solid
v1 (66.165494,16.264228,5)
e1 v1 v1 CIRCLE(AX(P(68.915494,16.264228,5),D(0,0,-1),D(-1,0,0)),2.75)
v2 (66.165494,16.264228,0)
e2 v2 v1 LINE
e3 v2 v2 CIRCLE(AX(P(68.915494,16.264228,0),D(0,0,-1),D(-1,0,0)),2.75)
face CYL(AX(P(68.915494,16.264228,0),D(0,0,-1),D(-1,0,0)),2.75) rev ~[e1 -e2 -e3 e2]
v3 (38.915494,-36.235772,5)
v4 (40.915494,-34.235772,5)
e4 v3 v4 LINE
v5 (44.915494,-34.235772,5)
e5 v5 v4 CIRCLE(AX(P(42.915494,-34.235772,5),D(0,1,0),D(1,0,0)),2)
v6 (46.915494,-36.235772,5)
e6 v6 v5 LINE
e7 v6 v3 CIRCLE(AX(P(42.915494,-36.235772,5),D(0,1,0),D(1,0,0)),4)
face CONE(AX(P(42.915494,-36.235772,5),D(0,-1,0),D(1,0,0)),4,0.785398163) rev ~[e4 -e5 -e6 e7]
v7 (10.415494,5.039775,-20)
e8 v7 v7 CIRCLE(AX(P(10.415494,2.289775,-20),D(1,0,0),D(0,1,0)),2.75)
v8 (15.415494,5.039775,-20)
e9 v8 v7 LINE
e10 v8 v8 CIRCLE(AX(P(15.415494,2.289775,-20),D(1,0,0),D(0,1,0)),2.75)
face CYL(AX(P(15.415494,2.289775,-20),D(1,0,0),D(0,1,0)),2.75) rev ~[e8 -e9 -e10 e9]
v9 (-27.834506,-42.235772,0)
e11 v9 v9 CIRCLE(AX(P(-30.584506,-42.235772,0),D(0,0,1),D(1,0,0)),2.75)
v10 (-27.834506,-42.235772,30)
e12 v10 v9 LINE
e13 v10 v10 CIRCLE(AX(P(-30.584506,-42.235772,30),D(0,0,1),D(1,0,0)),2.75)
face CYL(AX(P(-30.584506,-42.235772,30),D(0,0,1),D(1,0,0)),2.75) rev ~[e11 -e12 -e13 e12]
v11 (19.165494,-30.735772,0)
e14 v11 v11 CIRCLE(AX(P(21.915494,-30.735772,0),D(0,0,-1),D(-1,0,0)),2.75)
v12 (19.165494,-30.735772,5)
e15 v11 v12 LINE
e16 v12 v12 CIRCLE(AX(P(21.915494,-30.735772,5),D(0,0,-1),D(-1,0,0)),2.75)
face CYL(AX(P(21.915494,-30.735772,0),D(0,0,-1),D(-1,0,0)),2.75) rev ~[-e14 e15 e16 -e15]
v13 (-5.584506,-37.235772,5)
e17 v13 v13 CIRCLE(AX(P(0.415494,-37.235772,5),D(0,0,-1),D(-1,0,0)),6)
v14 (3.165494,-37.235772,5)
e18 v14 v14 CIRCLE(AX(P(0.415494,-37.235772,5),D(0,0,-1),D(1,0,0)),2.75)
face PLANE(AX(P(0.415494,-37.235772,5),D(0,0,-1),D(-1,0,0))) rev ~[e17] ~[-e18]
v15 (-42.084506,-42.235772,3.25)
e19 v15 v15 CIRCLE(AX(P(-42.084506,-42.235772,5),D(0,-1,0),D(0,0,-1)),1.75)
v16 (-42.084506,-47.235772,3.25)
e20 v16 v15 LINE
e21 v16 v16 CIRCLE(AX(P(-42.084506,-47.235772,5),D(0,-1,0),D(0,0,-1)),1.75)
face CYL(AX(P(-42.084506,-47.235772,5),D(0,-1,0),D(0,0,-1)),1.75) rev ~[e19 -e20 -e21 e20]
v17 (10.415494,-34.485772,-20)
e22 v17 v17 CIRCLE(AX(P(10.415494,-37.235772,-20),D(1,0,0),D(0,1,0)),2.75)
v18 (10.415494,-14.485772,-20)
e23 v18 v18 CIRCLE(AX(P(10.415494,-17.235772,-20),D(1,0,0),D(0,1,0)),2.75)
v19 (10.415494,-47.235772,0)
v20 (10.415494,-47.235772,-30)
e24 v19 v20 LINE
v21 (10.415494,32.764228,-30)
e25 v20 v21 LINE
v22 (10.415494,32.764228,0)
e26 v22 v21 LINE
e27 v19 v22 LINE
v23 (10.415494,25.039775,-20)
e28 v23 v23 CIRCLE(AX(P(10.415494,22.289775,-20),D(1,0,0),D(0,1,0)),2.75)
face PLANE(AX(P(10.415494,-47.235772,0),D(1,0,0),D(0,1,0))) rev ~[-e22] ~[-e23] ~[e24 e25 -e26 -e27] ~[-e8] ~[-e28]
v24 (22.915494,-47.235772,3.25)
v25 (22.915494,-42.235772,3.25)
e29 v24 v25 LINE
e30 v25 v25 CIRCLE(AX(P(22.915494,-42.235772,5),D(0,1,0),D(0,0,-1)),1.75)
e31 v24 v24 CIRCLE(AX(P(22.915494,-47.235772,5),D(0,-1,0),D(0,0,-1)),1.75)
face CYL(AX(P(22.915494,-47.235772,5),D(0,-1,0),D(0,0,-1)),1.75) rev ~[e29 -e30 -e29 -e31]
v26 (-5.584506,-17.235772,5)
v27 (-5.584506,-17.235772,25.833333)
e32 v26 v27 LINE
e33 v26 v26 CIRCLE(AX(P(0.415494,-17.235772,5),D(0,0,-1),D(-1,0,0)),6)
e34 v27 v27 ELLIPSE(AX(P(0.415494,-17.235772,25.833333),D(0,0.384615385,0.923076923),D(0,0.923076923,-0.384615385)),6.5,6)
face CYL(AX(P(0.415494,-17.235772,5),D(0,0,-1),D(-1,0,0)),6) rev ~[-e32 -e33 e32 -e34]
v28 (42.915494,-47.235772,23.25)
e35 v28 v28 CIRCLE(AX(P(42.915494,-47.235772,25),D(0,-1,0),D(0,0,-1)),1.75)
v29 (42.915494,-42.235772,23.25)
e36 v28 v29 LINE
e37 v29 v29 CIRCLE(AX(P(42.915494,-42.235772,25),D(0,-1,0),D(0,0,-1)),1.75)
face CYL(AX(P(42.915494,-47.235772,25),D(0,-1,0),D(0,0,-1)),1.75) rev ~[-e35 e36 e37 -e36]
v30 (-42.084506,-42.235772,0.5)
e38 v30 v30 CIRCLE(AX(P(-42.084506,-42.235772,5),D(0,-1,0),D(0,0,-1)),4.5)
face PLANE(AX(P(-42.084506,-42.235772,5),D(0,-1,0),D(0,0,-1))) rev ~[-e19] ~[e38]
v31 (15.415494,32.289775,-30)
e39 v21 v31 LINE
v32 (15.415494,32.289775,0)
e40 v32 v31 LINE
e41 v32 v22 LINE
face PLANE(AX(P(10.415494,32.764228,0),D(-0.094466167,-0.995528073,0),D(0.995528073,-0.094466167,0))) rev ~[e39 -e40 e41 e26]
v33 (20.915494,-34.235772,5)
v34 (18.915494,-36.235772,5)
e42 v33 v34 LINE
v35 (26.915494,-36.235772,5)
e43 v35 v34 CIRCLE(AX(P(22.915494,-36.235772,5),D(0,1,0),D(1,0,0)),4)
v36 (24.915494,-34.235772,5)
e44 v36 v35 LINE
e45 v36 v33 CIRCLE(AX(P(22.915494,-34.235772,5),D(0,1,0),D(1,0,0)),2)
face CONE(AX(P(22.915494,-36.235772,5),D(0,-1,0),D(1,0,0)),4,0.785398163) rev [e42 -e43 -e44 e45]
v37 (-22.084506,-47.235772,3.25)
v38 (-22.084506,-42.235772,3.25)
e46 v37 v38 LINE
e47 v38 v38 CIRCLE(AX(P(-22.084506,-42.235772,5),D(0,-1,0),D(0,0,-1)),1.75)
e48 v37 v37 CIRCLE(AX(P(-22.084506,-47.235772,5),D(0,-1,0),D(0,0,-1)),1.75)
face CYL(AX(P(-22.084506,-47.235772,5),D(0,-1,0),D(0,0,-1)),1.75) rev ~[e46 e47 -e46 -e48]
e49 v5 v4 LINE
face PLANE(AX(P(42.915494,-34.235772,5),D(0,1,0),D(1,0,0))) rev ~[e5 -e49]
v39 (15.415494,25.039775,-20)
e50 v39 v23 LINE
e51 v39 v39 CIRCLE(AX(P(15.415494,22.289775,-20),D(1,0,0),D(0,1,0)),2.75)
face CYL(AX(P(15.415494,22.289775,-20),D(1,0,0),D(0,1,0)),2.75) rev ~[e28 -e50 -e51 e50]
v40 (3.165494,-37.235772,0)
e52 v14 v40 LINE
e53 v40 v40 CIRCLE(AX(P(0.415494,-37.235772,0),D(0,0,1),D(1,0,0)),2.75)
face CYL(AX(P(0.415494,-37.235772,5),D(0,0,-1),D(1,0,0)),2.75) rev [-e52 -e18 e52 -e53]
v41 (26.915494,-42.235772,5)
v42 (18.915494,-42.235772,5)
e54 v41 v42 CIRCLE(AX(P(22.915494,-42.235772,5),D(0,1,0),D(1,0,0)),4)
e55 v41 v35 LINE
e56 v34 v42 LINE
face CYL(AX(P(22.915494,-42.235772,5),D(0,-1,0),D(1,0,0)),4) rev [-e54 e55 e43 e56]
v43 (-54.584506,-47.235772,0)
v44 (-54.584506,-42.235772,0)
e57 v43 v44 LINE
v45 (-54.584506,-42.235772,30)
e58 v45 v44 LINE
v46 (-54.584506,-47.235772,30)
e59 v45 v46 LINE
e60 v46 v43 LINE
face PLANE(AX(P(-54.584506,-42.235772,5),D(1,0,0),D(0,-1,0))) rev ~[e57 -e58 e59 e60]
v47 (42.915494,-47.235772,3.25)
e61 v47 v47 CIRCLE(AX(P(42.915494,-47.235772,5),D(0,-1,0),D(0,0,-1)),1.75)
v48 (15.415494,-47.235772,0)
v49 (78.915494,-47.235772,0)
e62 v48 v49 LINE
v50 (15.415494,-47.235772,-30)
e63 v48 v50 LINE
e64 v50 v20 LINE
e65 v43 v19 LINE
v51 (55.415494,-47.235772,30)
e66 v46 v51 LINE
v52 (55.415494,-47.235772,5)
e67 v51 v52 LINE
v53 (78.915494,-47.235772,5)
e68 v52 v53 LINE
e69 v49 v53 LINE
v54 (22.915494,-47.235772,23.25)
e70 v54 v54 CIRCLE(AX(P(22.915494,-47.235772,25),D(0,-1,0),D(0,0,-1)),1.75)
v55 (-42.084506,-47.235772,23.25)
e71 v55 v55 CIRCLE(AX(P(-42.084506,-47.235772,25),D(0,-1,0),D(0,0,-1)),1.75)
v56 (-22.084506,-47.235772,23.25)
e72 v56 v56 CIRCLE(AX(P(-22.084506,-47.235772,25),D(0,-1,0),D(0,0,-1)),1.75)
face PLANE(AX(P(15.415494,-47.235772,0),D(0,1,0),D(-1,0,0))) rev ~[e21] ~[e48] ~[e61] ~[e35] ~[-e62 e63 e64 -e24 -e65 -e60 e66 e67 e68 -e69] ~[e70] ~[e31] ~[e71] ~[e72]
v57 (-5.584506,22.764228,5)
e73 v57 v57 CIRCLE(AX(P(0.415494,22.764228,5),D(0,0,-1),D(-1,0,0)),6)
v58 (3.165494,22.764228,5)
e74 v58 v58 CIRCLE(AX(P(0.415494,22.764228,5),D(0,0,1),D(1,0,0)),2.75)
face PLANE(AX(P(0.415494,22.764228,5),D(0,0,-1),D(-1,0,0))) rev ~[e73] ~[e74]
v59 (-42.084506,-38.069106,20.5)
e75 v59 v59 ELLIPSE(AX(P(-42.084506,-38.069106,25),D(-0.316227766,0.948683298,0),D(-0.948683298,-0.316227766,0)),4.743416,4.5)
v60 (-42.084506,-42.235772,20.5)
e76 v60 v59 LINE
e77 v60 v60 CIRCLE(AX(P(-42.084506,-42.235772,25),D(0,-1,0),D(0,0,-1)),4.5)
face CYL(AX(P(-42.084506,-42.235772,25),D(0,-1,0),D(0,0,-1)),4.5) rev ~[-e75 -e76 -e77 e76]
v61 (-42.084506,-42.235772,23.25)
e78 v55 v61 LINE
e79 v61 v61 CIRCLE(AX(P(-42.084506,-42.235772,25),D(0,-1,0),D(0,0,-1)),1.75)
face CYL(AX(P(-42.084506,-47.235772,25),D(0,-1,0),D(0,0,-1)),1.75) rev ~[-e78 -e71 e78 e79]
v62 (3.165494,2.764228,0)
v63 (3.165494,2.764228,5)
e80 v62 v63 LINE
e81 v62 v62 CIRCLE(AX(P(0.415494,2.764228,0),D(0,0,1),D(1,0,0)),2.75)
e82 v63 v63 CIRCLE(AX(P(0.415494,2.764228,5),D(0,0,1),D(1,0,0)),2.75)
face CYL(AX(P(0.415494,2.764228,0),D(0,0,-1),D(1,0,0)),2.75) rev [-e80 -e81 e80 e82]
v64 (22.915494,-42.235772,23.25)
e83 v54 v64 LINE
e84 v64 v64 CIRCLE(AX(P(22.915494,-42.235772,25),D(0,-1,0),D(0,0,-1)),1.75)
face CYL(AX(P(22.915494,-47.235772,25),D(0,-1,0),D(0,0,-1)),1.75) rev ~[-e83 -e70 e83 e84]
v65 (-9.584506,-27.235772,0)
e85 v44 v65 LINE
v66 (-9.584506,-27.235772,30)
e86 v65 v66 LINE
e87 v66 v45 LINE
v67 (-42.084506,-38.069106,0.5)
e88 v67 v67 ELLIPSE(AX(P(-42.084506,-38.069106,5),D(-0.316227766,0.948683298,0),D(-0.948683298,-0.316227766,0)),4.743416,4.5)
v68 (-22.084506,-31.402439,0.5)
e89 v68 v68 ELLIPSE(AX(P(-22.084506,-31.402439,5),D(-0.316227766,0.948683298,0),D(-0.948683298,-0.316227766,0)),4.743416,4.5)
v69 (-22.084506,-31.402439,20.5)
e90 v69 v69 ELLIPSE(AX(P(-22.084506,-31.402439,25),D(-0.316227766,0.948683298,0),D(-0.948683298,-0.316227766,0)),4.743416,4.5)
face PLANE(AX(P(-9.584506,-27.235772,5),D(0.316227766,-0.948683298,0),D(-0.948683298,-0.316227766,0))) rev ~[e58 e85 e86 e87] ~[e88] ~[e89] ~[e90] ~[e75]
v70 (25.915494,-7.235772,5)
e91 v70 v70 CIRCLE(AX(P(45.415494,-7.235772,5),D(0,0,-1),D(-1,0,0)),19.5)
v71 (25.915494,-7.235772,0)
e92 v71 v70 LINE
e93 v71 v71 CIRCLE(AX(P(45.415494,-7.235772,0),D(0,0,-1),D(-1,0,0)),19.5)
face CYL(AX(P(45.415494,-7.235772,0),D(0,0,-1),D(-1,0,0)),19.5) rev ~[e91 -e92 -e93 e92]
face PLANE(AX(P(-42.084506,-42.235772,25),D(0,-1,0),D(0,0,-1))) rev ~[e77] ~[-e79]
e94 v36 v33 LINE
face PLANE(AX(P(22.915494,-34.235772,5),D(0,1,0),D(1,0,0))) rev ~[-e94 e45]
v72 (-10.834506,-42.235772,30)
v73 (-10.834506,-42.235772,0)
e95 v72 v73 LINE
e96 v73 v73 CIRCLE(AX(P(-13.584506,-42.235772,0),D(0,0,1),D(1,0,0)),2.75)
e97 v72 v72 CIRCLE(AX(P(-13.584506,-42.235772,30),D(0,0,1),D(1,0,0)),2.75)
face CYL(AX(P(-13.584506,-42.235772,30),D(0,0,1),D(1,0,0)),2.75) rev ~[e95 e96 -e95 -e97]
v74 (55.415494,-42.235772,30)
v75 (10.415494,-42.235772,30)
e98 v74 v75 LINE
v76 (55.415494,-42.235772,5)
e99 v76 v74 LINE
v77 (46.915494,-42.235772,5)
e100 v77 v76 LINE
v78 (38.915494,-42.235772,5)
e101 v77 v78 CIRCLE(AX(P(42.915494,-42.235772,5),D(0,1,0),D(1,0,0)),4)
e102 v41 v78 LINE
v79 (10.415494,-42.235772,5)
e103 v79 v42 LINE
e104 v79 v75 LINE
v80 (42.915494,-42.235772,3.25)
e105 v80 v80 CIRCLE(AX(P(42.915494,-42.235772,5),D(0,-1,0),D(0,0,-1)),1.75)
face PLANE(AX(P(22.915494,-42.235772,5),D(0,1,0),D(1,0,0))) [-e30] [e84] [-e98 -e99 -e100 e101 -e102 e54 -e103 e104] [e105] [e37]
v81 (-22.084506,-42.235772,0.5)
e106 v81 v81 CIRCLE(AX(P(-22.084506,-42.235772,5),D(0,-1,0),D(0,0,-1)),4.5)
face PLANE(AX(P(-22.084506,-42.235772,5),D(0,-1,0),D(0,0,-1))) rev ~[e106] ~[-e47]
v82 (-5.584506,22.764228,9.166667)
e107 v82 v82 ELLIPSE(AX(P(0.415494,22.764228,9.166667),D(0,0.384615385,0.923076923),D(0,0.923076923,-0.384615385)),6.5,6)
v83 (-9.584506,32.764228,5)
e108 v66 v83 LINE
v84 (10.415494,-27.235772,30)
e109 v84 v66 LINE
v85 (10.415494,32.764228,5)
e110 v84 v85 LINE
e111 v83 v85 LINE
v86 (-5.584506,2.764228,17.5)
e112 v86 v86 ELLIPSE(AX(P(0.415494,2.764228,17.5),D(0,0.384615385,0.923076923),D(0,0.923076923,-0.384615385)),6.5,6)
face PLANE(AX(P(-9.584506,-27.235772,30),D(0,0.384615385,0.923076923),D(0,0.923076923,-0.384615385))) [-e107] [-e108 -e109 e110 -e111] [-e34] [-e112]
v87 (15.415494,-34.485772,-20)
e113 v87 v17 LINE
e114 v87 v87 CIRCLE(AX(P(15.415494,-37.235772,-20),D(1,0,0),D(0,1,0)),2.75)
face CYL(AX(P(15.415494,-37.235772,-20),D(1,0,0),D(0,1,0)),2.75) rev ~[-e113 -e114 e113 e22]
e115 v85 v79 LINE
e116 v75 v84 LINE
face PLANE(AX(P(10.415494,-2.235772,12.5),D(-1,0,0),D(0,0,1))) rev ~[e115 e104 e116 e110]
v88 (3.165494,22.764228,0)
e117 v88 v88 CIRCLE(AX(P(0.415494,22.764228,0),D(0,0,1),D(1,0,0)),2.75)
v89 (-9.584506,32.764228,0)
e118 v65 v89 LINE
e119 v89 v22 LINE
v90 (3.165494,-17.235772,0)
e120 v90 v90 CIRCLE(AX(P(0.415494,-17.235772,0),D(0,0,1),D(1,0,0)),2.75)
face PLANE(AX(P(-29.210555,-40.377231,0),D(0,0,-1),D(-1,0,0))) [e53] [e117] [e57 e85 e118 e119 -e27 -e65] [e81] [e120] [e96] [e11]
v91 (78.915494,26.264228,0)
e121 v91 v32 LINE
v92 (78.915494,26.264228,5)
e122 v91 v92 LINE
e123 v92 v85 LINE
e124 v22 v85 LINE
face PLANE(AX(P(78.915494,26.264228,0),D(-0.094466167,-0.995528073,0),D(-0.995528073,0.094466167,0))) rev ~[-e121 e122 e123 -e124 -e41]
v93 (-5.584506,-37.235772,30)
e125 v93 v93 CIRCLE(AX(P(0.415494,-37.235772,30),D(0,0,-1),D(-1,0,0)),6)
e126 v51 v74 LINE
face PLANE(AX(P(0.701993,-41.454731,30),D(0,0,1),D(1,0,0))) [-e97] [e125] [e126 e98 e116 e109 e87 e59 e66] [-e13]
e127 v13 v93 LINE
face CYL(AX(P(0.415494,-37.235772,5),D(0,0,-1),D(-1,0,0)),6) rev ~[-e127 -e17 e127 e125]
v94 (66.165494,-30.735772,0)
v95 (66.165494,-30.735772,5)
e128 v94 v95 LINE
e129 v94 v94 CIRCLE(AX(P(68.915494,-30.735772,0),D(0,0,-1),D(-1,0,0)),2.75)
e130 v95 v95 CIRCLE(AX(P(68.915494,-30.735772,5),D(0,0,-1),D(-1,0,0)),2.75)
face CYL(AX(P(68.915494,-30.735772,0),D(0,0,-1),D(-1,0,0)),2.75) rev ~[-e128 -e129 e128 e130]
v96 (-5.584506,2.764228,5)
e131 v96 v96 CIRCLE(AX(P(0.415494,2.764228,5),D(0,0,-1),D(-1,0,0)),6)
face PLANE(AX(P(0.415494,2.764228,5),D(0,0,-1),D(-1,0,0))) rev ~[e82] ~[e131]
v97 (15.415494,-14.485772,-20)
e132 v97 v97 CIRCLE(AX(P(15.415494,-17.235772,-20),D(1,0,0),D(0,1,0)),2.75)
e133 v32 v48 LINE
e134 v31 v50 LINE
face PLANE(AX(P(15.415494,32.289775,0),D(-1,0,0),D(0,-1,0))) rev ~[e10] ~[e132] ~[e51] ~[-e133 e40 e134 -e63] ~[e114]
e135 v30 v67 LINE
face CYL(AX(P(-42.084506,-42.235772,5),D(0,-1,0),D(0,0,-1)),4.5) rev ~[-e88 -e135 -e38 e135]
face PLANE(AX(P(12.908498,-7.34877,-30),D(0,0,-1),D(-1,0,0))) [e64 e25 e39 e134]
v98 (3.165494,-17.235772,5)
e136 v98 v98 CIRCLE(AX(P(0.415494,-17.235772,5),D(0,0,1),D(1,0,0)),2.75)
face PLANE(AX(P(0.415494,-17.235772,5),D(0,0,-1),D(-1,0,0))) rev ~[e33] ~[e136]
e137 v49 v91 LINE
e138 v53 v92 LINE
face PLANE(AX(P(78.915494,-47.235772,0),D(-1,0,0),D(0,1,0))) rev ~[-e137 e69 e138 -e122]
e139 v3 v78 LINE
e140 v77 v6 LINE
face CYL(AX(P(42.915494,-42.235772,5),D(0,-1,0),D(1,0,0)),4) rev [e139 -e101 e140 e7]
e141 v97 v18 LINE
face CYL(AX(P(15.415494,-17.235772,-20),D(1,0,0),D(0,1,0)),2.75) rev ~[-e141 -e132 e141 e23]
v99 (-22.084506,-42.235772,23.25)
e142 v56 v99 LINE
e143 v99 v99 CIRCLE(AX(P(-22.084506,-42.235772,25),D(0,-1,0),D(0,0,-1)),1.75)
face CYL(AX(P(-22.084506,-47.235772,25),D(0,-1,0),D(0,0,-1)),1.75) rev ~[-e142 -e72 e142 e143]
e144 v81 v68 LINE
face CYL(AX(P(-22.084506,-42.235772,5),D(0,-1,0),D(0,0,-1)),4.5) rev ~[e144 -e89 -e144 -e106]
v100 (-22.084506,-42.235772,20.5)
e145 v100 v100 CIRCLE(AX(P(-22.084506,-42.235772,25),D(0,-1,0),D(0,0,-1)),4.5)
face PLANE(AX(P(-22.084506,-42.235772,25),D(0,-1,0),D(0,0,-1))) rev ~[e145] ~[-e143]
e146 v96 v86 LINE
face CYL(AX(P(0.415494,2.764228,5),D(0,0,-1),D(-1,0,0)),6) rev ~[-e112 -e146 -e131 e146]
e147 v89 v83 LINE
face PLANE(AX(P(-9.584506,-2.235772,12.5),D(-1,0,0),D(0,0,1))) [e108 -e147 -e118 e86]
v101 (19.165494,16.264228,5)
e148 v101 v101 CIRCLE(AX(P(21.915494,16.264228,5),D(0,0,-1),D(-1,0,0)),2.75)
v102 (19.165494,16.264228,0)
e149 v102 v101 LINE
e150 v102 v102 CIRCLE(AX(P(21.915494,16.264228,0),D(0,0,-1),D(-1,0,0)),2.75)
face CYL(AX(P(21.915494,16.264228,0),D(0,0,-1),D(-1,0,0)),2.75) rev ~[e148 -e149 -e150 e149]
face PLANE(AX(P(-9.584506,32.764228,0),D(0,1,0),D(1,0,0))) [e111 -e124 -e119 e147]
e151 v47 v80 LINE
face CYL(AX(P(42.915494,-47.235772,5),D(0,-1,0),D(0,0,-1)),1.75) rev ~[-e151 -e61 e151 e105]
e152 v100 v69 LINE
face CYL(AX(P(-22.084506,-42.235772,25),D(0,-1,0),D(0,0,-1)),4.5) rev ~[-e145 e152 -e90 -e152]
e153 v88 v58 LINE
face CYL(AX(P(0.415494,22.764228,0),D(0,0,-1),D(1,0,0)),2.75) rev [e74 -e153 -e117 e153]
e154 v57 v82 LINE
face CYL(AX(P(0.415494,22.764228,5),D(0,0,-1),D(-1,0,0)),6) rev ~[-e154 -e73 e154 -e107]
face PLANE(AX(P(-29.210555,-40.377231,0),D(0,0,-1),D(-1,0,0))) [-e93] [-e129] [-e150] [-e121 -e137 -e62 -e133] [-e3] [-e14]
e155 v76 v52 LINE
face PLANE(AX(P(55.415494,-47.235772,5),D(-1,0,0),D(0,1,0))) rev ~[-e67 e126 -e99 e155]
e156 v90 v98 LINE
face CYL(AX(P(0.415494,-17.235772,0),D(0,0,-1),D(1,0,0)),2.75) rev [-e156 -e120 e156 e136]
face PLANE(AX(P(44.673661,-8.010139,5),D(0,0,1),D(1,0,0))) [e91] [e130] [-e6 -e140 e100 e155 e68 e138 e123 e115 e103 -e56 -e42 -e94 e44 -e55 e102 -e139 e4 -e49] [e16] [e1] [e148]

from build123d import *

# Parameters (mm, degrees)
ESQUISSE1_W             = 20
ESQUISSE1_H             = 80
ESQUISSE1_R             = 2.75
BOSS_EXTRU_1_DEPTH      = 5
ESQUISSE3_W             = 45
ESQUISSE3_H             = 5
BOSS_EXTRU_2_DEPTH      = 5
ESQUISSE4_R             = 2.75
BOSS_EXTRU_3_DEPTH      = 25
BOSS_EXTRU_4_DEPTH      = 20
ENL_V_MAT_EXTRU_1_REACH = 78.988
ESQUISSE6_R             = 6
ENL_V_MAT_EXTRU_2_REACH = 103.838
ESQUISSE7_R             = 1.75
ENL_V_MAT_EXTRU_3_REACH = 99.959
ESQUISSE9_R             = 4.5
ESQUISSE11_R            = 19.5
ESQUISSE11_R_2          = 2.75
BOSS_EXTRU_5_DEPTH      = 5
ESQUISSE12_R            = 4
ENL_V_MAT_EXTRU_5_DEPTH = 8
CHANFREIN1_SIZE         = 2
BOSS_EXTRU_6_DEPTH      = 30
ENL_V_MAT_EXTRU_6_REACH = 91.617
ESQUISSE14_R            = 2.75
ENL_V_MAT_EXTRU_7_REACH = 111.813
ESQUISSE15_R            = 2.75


with BuildPart() as part:
    # Esquisse1 → Boss.-Extru.1 (new body)
    with BuildSketch(Plane.XY):
        with Locations((0.415494059, -7.235772358)):
            Rectangle(ESQUISSE1_W, ESQUISSE1_H)
        with Locations((0.415494059, 22.764227642)):
            Circle(ESQUISSE1_R, mode=Mode.SUBTRACT)
        with Locations((0.415494059, -17.235772358)):
            Circle(ESQUISSE1_R, mode=Mode.SUBTRACT)
        with Locations((0.415494059, 2.764227642)):
            Circle(ESQUISSE1_R, mode=Mode.SUBTRACT)
        with Locations((0.415494059, -37.235772358)):
            Circle(ESQUISSE1_R, mode=Mode.SUBTRACT)
    extrude(amount=BOSS_EXTRU_1_DEPTH)

    # Esquisse3 → Boss.-Extru.2 (add)
    with BuildSketch(Plane.XY.offset(5)):
        Polygon((-9.584505941, -47.235772358), (-54.584505941, -47.235772358), (-54.584505941, -42.235772358), (-9.584505941, -27.235772358), align=None)
        with Locations((32.915494059, -44.735772358)):
            Rectangle(ESQUISSE3_W, ESQUISSE3_H)
    extrude(amount=-BOSS_EXTRU_2_DEPTH)

    # Esquisse4 → Boss.-Extru.3 (add)
    with BuildSketch(Plane.XY.offset(5)):
        Polygon((55.415494059, -47.235772358), (55.415494059, -42.235772358), (10.415494059, -42.235772358), (10.415494059, -27.235772358), (-9.584505941, -27.235772358), (-54.584505941, -42.235772358), (-54.584505941, -47.235772358), align=None)
        with Locations((0.415494059, -37.235772358)):
            Circle(ESQUISSE4_R, mode=Mode.SUBTRACT)
    extrude(amount=BOSS_EXTRU_3_DEPTH)

    # Esquisse5 → Boss.-Extru.4 (add)
    with BuildSketch(Plane.ZY.offset(9.584505941)):
        Polygon((5, -27.235772358), (30, -27.235772358), (5, 32.764227642), align=None)
    extrude(amount=-BOSS_EXTRU_4_DEPTH)

    # Esquisse6 → Enlèv. mat.-Extru.1 (cut, up to next)
    with BuildSketch(Plane(origin=(0, 0, 5), x_dir=(-1, 0, 0), z_dir=(0, 0, -1)), mode=Mode.PRIVATE) as enl_v_mat_extru_1_sk1:
        with Locations((-0.415494059, 2.764227642)):
            Circle(ESQUISSE6_R)
    enl_v_mat_extru_1_tool1 = extrude(enl_v_mat_extru_1_sk1.sketch, amount=-ENL_V_MAT_EXTRU_1_REACH, mode=Mode.PRIVATE) & part.part
    # Esquisse6 → Enlèv. mat.-Extru.1 (cut, up to next)
    with BuildSketch(Plane(origin=(0, 0, 5), x_dir=(-1, 0, 0), z_dir=(0, 0, -1)), mode=Mode.PRIVATE) as enl_v_mat_extru_1_sk2:
        with Locations((-0.415494059, -17.235772358)):
            Circle(ESQUISSE6_R)
    enl_v_mat_extru_1_tool2 = extrude(enl_v_mat_extru_1_sk2.sketch, amount=-ENL_V_MAT_EXTRU_1_REACH, mode=Mode.PRIVATE) & part.part
    # Esquisse6 → Enlèv. mat.-Extru.1 (cut, up to next)
    with BuildSketch(Plane(origin=(0, 0, 5), x_dir=(-1, 0, 0), z_dir=(0, 0, -1)), mode=Mode.PRIVATE) as enl_v_mat_extru_1_sk3:
        with Locations((-0.415494059, 22.764227642)):
            Circle(ESQUISSE6_R)
    enl_v_mat_extru_1_tool3 = extrude(enl_v_mat_extru_1_sk3.sketch, amount=-ENL_V_MAT_EXTRU_1_REACH, mode=Mode.PRIVATE) & part.part
    # Esquisse6 → Enlèv. mat.-Extru.1 (cut, up to next)
    with BuildSketch(Plane(origin=(0, 0, 5), x_dir=(-1, 0, 0), z_dir=(0, 0, -1)), mode=Mode.PRIVATE) as enl_v_mat_extru_1_sk4:
        with Locations((-0.415494059, -37.235772358)):
            Circle(ESQUISSE6_R)
    enl_v_mat_extru_1_tool4 = extrude(enl_v_mat_extru_1_sk4.sketch, amount=-ENL_V_MAT_EXTRU_1_REACH, mode=Mode.PRIVATE) & part.part
    add(enl_v_mat_extru_1_tool1.solids().sort_by_distance((0.415494, 2.764228, 5))[0], mode=Mode.SUBTRACT)
    add(enl_v_mat_extru_1_tool2.solids().sort_by_distance((0.415494, -17.235772, 5))[0], mode=Mode.SUBTRACT)
    add(enl_v_mat_extru_1_tool3.solids().sort_by_distance((0.415494, 22.764228, 5))[0], mode=Mode.SUBTRACT)
    add(enl_v_mat_extru_1_tool4.solids().sort_by_distance((0.415494, -37.235772, 5))[0], mode=Mode.SUBTRACT)

    # Esquisse7 → Enlèv. mat.-Extru.2 (cut, up to next)
    with BuildSketch(Plane.XZ.offset(47.235772358), mode=Mode.PRIVATE) as enl_v_mat_extru_2_sk1:
        with Locations(Location((-42.084505941, 25, 0), (0, 0, 270))):
            Circle(ESQUISSE7_R)
    enl_v_mat_extru_2_tool1 = extrude(enl_v_mat_extru_2_sk1.sketch, amount=-ENL_V_MAT_EXTRU_2_REACH, mode=Mode.PRIVATE) & part.part
    # Esquisse7 → Enlèv. mat.-Extru.2 (cut, up to next)
    with BuildSketch(Plane.XZ.offset(47.235772358), mode=Mode.PRIVATE) as enl_v_mat_extru_2_sk2:
        with Locations(Location((-22.084505941, 25, 0), (0, 0, 270))):
            Circle(ESQUISSE7_R)
    enl_v_mat_extru_2_tool2 = extrude(enl_v_mat_extru_2_sk2.sketch, amount=-ENL_V_MAT_EXTRU_2_REACH, mode=Mode.PRIVATE) & part.part
    # Esquisse7 → Enlèv. mat.-Extru.2 (cut, up to next)
    with BuildSketch(Plane.XZ.offset(47.235772358), mode=Mode.PRIVATE) as enl_v_mat_extru_2_sk3:
        with Locations(Location((-22.084505941, 5, 0), (0, 0, 270))):
            Circle(ESQUISSE7_R)
    enl_v_mat_extru_2_tool3 = extrude(enl_v_mat_extru_2_sk3.sketch, amount=-ENL_V_MAT_EXTRU_2_REACH, mode=Mode.PRIVATE) & part.part
    # Esquisse7 → Enlèv. mat.-Extru.2 (cut, up to next)
    with BuildSketch(Plane.XZ.offset(47.235772358), mode=Mode.PRIVATE) as enl_v_mat_extru_2_sk4:
        with Locations(Location((-42.084505941, 5, 0), (0, 0, 270))):
            Circle(ESQUISSE7_R)
    enl_v_mat_extru_2_tool4 = extrude(enl_v_mat_extru_2_sk4.sketch, amount=-ENL_V_MAT_EXTRU_2_REACH, mode=Mode.PRIVATE) & part.part
    # Esquisse7 → Enlèv. mat.-Extru.2 (cut, up to next)
    with BuildSketch(Plane.XZ.offset(47.235772358), mode=Mode.PRIVATE) as enl_v_mat_extru_2_sk5:
        with Locations(Location((42.915494059, 25, 0), (0, 0, 270))):
            Circle(ESQUISSE7_R)
    enl_v_mat_extru_2_tool5 = extrude(enl_v_mat_extru_2_sk5.sketch, amount=-ENL_V_MAT_EXTRU_2_REACH, mode=Mode.PRIVATE) & part.part
    # Esquisse7 → Enlèv. mat.-Extru.2 (cut, up to next)
    with BuildSketch(Plane.XZ.offset(47.235772358), mode=Mode.PRIVATE) as enl_v_mat_extru_2_sk6:
        with Locations(Location((42.915494059, 5, 0), (0, 0, 270))):
            Circle(ESQUISSE7_R)
    enl_v_mat_extru_2_tool6 = extrude(enl_v_mat_extru_2_sk6.sketch, amount=-ENL_V_MAT_EXTRU_2_REACH, mode=Mode.PRIVATE) & part.part
    # Esquisse7 → Enlèv. mat.-Extru.2 (cut, up to next)
    with BuildSketch(Plane.XZ.offset(47.235772358), mode=Mode.PRIVATE) as enl_v_mat_extru_2_sk7:
        with Locations(Location((22.915494059, 5, 0), (0, 0, 270))):
            Circle(ESQUISSE7_R)
    enl_v_mat_extru_2_tool7 = extrude(enl_v_mat_extru_2_sk7.sketch, amount=-ENL_V_MAT_EXTRU_2_REACH, mode=Mode.PRIVATE) & part.part
    # Esquisse7 → Enlèv. mat.-Extru.2 (cut, up to next)
    with BuildSketch(Plane.XZ.offset(47.235772358), mode=Mode.PRIVATE) as enl_v_mat_extru_2_sk8:
        with Locations(Location((22.915494059, 25, 0), (0, 0, 270))):
            Circle(ESQUISSE7_R)
    enl_v_mat_extru_2_tool8 = extrude(enl_v_mat_extru_2_sk8.sketch, amount=-ENL_V_MAT_EXTRU_2_REACH, mode=Mode.PRIVATE) & part.part
    add(enl_v_mat_extru_2_tool1.solids().sort_by_distance((-42.084506, -47.235772, 25))[0], mode=Mode.SUBTRACT)
    add(enl_v_mat_extru_2_tool2.solids().sort_by_distance((-22.084506, -47.235772, 25))[0], mode=Mode.SUBTRACT)
    add(enl_v_mat_extru_2_tool3.solids().sort_by_distance((-22.084506, -47.235772, 5))[0], mode=Mode.SUBTRACT)
    add(enl_v_mat_extru_2_tool4.solids().sort_by_distance((-42.084506, -47.235772, 5))[0], mode=Mode.SUBTRACT)
    add(enl_v_mat_extru_2_tool5.solids().sort_by_distance((42.915494, -47.235772, 25))[0], mode=Mode.SUBTRACT)
    add(enl_v_mat_extru_2_tool6.solids().sort_by_distance((42.915494, -47.235772, 5))[0], mode=Mode.SUBTRACT)
    add(enl_v_mat_extru_2_tool7.solids().sort_by_distance((22.915494, -47.235772, 5))[0], mode=Mode.SUBTRACT)
    add(enl_v_mat_extru_2_tool8.solids().sort_by_distance((22.915494, -47.235772, 25))[0], mode=Mode.SUBTRACT)

    # Enlèv. mat.-Extru.3: up to this plane
    enl_v_mat_extru_3_end = Plane(origin=(-54.584505941, -42.235772358, 0), z_dir=(-0.31622776601683844, 0.9486832980505137, 0))
    # Esquisse9 → Enlèv. mat.-Extru.3 (cut, up to the surface)
    with BuildSketch(Plane(origin=(0, -42.235772358, 0), x_dir=(-1, 0, 0), z_dir=(0, -1, 0)), mode=Mode.PRIVATE) as enl_v_mat_extru_3_sk1:
        with Locations(Location((42.084505941, -25, 0), (0, 0, 90))):
            Circle(ESQUISSE9_R)
    enl_v_mat_extru_3_tool1 = split(extrude(enl_v_mat_extru_3_sk1.sketch, amount=-ENL_V_MAT_EXTRU_3_REACH, mode=Mode.PRIVATE), bisect_by=enl_v_mat_extru_3_end, keep=Keep.BOTH, mode=Mode.PRIVATE)
    add(enl_v_mat_extru_3_tool1.solids().sort_by_distance((-42.084506, -42.235772, 25))[0], mode=Mode.SUBTRACT)
    # Esquisse9 → Enlèv. mat.-Extru.3 (cut, up to the surface)
    with BuildSketch(Plane(origin=(0, -42.235772358, 0), x_dir=(-1, 0, 0), z_dir=(0, -1, 0)), mode=Mode.PRIVATE) as enl_v_mat_extru_3_sk2:
        with Locations(Location((22.084505941, -25, 0), (0, 0, 90))):
            Circle(ESQUISSE9_R)
    enl_v_mat_extru_3_tool2 = split(extrude(enl_v_mat_extru_3_sk2.sketch, amount=-ENL_V_MAT_EXTRU_3_REACH, mode=Mode.PRIVATE), bisect_by=enl_v_mat_extru_3_end, keep=Keep.BOTH, mode=Mode.PRIVATE)
    add(enl_v_mat_extru_3_tool2.solids().sort_by_distance((-22.084506, -42.235772, 25))[0], mode=Mode.SUBTRACT)
    # Esquisse9 → Enlèv. mat.-Extru.3 (cut, up to the surface)
    with BuildSketch(Plane(origin=(0, -42.235772358, 0), x_dir=(-1, 0, 0), z_dir=(0, -1, 0)), mode=Mode.PRIVATE) as enl_v_mat_extru_3_sk3:
        with Locations(Location((22.084505941, -5, 0), (0, 0, 90))):
            Circle(ESQUISSE9_R)
    enl_v_mat_extru_3_tool3 = split(extrude(enl_v_mat_extru_3_sk3.sketch, amount=-ENL_V_MAT_EXTRU_3_REACH, mode=Mode.PRIVATE), bisect_by=enl_v_mat_extru_3_end, keep=Keep.BOTH, mode=Mode.PRIVATE)
    add(enl_v_mat_extru_3_tool3.solids().sort_by_distance((-22.084506, -42.235772, 5))[0], mode=Mode.SUBTRACT)
    # Esquisse9 → Enlèv. mat.-Extru.3 (cut, up to the surface)
    with BuildSketch(Plane(origin=(0, -42.235772358, 0), x_dir=(-1, 0, 0), z_dir=(0, -1, 0)), mode=Mode.PRIVATE) as enl_v_mat_extru_3_sk4:
        with Locations(Location((42.084505941, -5, 0), (0, 0, 90))):
            Circle(ESQUISSE9_R)
    enl_v_mat_extru_3_tool4 = split(extrude(enl_v_mat_extru_3_sk4.sketch, amount=-ENL_V_MAT_EXTRU_3_REACH, mode=Mode.PRIVATE), bisect_by=enl_v_mat_extru_3_end, keep=Keep.BOTH, mode=Mode.PRIVATE)
    add(enl_v_mat_extru_3_tool4.solids().sort_by_distance((-42.084506, -42.235772, 5))[0], mode=Mode.SUBTRACT)

    # Esquisse11 → Boss.-Extru.5 (add)
    with BuildSketch(Plane(origin=(0, 0, 0), x_dir=(-1, 0, 0), z_dir=(0, 0, -1))):
        Polygon((-10.415494059, -42.235772358), (-55.415494059, -42.235772358), (-55.415494059, -47.235772358), (-78.915494059, -47.235772358), (-78.915494059, 26.264227642), (-10.415494059, 32.764227642), align=None)
        with Locations((-45.415494059, -7.235772358)):
            Circle(ESQUISSE11_R, mode=Mode.SUBTRACT)
        with Locations((-21.915494059, 16.264227642)):
            Circle(ESQUISSE11_R_2, mode=Mode.SUBTRACT)
        with Locations((-21.915494059, -30.735772358)):
            Circle(ESQUISSE11_R_2, mode=Mode.SUBTRACT)
        with Locations((-68.915494059, -30.735772358)):
            Circle(ESQUISSE11_R_2, mode=Mode.SUBTRACT)
        with Locations((-68.915494059, 16.264227642)):
            Circle(ESQUISSE11_R_2, mode=Mode.SUBTRACT)
    extrude(amount=-BOSS_EXTRU_5_DEPTH)

    # Esquisse12 → Enlèv. mat.-Extru.5 (cut)
    with BuildSketch(Plane(origin=(0, -42.235772358, 0), x_dir=(1, 0, 0), z_dir=(0, 1, 0))):
        with Locations((22.915494059, -5)):
            Circle(ESQUISSE12_R)
        with Locations((42.915494059, -5)):
            Circle(ESQUISSE12_R)
    extrude(amount=ENL_V_MAT_EXTRU_5_DEPTH, mode=Mode.SUBTRACT)

    # Chanfrein1
    chanfrein1_edges = [part.edges().sort_by_distance(p)[0] for p in [
        (22.915494059, -34.235772358, 1),
        (42.915494059, -34.235772358, 1),
    ]]
    chamfer(chanfrein1_edges, length=CHANFREIN1_SIZE)

    # Esquisse13 → Boss.-Extru.6 (add)
    with BuildSketch(Plane(origin=(0, 0, 0), x_dir=(-1, 0, 0), z_dir=(0, 0, -1))):
        Polygon((-10.415494059, 32.764227642), (-15.415494059, 32.289775088), (-15.415494059, -47.235772358), (-10.415494059, -47.235772358), align=None)
    extrude(amount=BOSS_EXTRU_6_DEPTH)

    # Esquisse14 → Enlèv. mat.-Extru.6 (cut, up to next)
    with BuildSketch(Plane(origin=(15.415494059, 0, 0), x_dir=(0, 0, -1), z_dir=(1, 0, 0)), mode=Mode.PRIVATE) as enl_v_mat_extru_6_sk1:
        with Locations(Location((20, 22.289775088, 0), (0, 0, 90))):
            Circle(ESQUISSE14_R)
    enl_v_mat_extru_6_tool1 = extrude(enl_v_mat_extru_6_sk1.sketch, amount=-ENL_V_MAT_EXTRU_6_REACH, mode=Mode.PRIVATE) & part.part
    # Esquisse14 → Enlèv. mat.-Extru.6 (cut, up to next)
    with BuildSketch(Plane(origin=(15.415494059, 0, 0), x_dir=(0, 0, -1), z_dir=(1, 0, 0)), mode=Mode.PRIVATE) as enl_v_mat_extru_6_sk2:
        with Locations(Location((20, 2.289775088, 0), (0, 0, 90))):
            Circle(ESQUISSE14_R)
    enl_v_mat_extru_6_tool2 = extrude(enl_v_mat_extru_6_sk2.sketch, amount=-ENL_V_MAT_EXTRU_6_REACH, mode=Mode.PRIVATE) & part.part
    # Esquisse14 → Enlèv. mat.-Extru.6 (cut, up to next)
    with BuildSketch(Plane(origin=(15.415494059, 0, 0), x_dir=(0, 0, -1), z_dir=(1, 0, 0)), mode=Mode.PRIVATE) as enl_v_mat_extru_6_sk3:
        with Locations(Location((20, -17.235772358, 0), (0, 0, 90))):
            Circle(ESQUISSE14_R)
    enl_v_mat_extru_6_tool3 = extrude(enl_v_mat_extru_6_sk3.sketch, amount=-ENL_V_MAT_EXTRU_6_REACH, mode=Mode.PRIVATE) & part.part
    # Esquisse14 → Enlèv. mat.-Extru.6 (cut, up to next)
    with BuildSketch(Plane(origin=(15.415494059, 0, 0), x_dir=(0, 0, -1), z_dir=(1, 0, 0)), mode=Mode.PRIVATE) as enl_v_mat_extru_6_sk4:
        with Locations(Location((20, -37.235772358, 0), (0, 0, 90))):
            Circle(ESQUISSE14_R)
    enl_v_mat_extru_6_tool4 = extrude(enl_v_mat_extru_6_sk4.sketch, amount=-ENL_V_MAT_EXTRU_6_REACH, mode=Mode.PRIVATE) & part.part
    add(enl_v_mat_extru_6_tool1.solids().sort_by_distance((15.415494, 22.289775, -20))[0], mode=Mode.SUBTRACT)
    add(enl_v_mat_extru_6_tool2.solids().sort_by_distance((15.415494, 2.289775, -20))[0], mode=Mode.SUBTRACT)
    add(enl_v_mat_extru_6_tool3.solids().sort_by_distance((15.415494, -17.235772, -20))[0], mode=Mode.SUBTRACT)
    add(enl_v_mat_extru_6_tool4.solids().sort_by_distance((15.415494, -37.235772, -20))[0], mode=Mode.SUBTRACT)

    # Esquisse15 → Enlèv. mat.-Extru.7 (cut, up to next)
    with BuildSketch(Plane.XY.offset(30), mode=Mode.PRIVATE) as enl_v_mat_extru_7_sk1:
        with Locations((-13.584505941, -42.235772358)):
            Circle(ESQUISSE15_R)
    enl_v_mat_extru_7_tool1 = extrude(enl_v_mat_extru_7_sk1.sketch, amount=-ENL_V_MAT_EXTRU_7_REACH, mode=Mode.PRIVATE) & part.part
    # Esquisse15 → Enlèv. mat.-Extru.7 (cut, up to next)
    with BuildSketch(Plane.XY.offset(30), mode=Mode.PRIVATE) as enl_v_mat_extru_7_sk2:
        with Locations((-30.584505941, -42.235772358)):
            Circle(ESQUISSE15_R)
    enl_v_mat_extru_7_tool2 = extrude(enl_v_mat_extru_7_sk2.sketch, amount=-ENL_V_MAT_EXTRU_7_REACH, mode=Mode.PRIVATE) & part.part
    add(enl_v_mat_extru_7_tool1.solids().sort_by_distance((-13.584506, -42.235772, 30))[0], mode=Mode.SUBTRACT)
    add(enl_v_mat_extru_7_tool2.solids().sort_by_distance((-30.584506, -42.235772, 30))[0], mode=Mode.SUBTRACT)


solid = part.part
